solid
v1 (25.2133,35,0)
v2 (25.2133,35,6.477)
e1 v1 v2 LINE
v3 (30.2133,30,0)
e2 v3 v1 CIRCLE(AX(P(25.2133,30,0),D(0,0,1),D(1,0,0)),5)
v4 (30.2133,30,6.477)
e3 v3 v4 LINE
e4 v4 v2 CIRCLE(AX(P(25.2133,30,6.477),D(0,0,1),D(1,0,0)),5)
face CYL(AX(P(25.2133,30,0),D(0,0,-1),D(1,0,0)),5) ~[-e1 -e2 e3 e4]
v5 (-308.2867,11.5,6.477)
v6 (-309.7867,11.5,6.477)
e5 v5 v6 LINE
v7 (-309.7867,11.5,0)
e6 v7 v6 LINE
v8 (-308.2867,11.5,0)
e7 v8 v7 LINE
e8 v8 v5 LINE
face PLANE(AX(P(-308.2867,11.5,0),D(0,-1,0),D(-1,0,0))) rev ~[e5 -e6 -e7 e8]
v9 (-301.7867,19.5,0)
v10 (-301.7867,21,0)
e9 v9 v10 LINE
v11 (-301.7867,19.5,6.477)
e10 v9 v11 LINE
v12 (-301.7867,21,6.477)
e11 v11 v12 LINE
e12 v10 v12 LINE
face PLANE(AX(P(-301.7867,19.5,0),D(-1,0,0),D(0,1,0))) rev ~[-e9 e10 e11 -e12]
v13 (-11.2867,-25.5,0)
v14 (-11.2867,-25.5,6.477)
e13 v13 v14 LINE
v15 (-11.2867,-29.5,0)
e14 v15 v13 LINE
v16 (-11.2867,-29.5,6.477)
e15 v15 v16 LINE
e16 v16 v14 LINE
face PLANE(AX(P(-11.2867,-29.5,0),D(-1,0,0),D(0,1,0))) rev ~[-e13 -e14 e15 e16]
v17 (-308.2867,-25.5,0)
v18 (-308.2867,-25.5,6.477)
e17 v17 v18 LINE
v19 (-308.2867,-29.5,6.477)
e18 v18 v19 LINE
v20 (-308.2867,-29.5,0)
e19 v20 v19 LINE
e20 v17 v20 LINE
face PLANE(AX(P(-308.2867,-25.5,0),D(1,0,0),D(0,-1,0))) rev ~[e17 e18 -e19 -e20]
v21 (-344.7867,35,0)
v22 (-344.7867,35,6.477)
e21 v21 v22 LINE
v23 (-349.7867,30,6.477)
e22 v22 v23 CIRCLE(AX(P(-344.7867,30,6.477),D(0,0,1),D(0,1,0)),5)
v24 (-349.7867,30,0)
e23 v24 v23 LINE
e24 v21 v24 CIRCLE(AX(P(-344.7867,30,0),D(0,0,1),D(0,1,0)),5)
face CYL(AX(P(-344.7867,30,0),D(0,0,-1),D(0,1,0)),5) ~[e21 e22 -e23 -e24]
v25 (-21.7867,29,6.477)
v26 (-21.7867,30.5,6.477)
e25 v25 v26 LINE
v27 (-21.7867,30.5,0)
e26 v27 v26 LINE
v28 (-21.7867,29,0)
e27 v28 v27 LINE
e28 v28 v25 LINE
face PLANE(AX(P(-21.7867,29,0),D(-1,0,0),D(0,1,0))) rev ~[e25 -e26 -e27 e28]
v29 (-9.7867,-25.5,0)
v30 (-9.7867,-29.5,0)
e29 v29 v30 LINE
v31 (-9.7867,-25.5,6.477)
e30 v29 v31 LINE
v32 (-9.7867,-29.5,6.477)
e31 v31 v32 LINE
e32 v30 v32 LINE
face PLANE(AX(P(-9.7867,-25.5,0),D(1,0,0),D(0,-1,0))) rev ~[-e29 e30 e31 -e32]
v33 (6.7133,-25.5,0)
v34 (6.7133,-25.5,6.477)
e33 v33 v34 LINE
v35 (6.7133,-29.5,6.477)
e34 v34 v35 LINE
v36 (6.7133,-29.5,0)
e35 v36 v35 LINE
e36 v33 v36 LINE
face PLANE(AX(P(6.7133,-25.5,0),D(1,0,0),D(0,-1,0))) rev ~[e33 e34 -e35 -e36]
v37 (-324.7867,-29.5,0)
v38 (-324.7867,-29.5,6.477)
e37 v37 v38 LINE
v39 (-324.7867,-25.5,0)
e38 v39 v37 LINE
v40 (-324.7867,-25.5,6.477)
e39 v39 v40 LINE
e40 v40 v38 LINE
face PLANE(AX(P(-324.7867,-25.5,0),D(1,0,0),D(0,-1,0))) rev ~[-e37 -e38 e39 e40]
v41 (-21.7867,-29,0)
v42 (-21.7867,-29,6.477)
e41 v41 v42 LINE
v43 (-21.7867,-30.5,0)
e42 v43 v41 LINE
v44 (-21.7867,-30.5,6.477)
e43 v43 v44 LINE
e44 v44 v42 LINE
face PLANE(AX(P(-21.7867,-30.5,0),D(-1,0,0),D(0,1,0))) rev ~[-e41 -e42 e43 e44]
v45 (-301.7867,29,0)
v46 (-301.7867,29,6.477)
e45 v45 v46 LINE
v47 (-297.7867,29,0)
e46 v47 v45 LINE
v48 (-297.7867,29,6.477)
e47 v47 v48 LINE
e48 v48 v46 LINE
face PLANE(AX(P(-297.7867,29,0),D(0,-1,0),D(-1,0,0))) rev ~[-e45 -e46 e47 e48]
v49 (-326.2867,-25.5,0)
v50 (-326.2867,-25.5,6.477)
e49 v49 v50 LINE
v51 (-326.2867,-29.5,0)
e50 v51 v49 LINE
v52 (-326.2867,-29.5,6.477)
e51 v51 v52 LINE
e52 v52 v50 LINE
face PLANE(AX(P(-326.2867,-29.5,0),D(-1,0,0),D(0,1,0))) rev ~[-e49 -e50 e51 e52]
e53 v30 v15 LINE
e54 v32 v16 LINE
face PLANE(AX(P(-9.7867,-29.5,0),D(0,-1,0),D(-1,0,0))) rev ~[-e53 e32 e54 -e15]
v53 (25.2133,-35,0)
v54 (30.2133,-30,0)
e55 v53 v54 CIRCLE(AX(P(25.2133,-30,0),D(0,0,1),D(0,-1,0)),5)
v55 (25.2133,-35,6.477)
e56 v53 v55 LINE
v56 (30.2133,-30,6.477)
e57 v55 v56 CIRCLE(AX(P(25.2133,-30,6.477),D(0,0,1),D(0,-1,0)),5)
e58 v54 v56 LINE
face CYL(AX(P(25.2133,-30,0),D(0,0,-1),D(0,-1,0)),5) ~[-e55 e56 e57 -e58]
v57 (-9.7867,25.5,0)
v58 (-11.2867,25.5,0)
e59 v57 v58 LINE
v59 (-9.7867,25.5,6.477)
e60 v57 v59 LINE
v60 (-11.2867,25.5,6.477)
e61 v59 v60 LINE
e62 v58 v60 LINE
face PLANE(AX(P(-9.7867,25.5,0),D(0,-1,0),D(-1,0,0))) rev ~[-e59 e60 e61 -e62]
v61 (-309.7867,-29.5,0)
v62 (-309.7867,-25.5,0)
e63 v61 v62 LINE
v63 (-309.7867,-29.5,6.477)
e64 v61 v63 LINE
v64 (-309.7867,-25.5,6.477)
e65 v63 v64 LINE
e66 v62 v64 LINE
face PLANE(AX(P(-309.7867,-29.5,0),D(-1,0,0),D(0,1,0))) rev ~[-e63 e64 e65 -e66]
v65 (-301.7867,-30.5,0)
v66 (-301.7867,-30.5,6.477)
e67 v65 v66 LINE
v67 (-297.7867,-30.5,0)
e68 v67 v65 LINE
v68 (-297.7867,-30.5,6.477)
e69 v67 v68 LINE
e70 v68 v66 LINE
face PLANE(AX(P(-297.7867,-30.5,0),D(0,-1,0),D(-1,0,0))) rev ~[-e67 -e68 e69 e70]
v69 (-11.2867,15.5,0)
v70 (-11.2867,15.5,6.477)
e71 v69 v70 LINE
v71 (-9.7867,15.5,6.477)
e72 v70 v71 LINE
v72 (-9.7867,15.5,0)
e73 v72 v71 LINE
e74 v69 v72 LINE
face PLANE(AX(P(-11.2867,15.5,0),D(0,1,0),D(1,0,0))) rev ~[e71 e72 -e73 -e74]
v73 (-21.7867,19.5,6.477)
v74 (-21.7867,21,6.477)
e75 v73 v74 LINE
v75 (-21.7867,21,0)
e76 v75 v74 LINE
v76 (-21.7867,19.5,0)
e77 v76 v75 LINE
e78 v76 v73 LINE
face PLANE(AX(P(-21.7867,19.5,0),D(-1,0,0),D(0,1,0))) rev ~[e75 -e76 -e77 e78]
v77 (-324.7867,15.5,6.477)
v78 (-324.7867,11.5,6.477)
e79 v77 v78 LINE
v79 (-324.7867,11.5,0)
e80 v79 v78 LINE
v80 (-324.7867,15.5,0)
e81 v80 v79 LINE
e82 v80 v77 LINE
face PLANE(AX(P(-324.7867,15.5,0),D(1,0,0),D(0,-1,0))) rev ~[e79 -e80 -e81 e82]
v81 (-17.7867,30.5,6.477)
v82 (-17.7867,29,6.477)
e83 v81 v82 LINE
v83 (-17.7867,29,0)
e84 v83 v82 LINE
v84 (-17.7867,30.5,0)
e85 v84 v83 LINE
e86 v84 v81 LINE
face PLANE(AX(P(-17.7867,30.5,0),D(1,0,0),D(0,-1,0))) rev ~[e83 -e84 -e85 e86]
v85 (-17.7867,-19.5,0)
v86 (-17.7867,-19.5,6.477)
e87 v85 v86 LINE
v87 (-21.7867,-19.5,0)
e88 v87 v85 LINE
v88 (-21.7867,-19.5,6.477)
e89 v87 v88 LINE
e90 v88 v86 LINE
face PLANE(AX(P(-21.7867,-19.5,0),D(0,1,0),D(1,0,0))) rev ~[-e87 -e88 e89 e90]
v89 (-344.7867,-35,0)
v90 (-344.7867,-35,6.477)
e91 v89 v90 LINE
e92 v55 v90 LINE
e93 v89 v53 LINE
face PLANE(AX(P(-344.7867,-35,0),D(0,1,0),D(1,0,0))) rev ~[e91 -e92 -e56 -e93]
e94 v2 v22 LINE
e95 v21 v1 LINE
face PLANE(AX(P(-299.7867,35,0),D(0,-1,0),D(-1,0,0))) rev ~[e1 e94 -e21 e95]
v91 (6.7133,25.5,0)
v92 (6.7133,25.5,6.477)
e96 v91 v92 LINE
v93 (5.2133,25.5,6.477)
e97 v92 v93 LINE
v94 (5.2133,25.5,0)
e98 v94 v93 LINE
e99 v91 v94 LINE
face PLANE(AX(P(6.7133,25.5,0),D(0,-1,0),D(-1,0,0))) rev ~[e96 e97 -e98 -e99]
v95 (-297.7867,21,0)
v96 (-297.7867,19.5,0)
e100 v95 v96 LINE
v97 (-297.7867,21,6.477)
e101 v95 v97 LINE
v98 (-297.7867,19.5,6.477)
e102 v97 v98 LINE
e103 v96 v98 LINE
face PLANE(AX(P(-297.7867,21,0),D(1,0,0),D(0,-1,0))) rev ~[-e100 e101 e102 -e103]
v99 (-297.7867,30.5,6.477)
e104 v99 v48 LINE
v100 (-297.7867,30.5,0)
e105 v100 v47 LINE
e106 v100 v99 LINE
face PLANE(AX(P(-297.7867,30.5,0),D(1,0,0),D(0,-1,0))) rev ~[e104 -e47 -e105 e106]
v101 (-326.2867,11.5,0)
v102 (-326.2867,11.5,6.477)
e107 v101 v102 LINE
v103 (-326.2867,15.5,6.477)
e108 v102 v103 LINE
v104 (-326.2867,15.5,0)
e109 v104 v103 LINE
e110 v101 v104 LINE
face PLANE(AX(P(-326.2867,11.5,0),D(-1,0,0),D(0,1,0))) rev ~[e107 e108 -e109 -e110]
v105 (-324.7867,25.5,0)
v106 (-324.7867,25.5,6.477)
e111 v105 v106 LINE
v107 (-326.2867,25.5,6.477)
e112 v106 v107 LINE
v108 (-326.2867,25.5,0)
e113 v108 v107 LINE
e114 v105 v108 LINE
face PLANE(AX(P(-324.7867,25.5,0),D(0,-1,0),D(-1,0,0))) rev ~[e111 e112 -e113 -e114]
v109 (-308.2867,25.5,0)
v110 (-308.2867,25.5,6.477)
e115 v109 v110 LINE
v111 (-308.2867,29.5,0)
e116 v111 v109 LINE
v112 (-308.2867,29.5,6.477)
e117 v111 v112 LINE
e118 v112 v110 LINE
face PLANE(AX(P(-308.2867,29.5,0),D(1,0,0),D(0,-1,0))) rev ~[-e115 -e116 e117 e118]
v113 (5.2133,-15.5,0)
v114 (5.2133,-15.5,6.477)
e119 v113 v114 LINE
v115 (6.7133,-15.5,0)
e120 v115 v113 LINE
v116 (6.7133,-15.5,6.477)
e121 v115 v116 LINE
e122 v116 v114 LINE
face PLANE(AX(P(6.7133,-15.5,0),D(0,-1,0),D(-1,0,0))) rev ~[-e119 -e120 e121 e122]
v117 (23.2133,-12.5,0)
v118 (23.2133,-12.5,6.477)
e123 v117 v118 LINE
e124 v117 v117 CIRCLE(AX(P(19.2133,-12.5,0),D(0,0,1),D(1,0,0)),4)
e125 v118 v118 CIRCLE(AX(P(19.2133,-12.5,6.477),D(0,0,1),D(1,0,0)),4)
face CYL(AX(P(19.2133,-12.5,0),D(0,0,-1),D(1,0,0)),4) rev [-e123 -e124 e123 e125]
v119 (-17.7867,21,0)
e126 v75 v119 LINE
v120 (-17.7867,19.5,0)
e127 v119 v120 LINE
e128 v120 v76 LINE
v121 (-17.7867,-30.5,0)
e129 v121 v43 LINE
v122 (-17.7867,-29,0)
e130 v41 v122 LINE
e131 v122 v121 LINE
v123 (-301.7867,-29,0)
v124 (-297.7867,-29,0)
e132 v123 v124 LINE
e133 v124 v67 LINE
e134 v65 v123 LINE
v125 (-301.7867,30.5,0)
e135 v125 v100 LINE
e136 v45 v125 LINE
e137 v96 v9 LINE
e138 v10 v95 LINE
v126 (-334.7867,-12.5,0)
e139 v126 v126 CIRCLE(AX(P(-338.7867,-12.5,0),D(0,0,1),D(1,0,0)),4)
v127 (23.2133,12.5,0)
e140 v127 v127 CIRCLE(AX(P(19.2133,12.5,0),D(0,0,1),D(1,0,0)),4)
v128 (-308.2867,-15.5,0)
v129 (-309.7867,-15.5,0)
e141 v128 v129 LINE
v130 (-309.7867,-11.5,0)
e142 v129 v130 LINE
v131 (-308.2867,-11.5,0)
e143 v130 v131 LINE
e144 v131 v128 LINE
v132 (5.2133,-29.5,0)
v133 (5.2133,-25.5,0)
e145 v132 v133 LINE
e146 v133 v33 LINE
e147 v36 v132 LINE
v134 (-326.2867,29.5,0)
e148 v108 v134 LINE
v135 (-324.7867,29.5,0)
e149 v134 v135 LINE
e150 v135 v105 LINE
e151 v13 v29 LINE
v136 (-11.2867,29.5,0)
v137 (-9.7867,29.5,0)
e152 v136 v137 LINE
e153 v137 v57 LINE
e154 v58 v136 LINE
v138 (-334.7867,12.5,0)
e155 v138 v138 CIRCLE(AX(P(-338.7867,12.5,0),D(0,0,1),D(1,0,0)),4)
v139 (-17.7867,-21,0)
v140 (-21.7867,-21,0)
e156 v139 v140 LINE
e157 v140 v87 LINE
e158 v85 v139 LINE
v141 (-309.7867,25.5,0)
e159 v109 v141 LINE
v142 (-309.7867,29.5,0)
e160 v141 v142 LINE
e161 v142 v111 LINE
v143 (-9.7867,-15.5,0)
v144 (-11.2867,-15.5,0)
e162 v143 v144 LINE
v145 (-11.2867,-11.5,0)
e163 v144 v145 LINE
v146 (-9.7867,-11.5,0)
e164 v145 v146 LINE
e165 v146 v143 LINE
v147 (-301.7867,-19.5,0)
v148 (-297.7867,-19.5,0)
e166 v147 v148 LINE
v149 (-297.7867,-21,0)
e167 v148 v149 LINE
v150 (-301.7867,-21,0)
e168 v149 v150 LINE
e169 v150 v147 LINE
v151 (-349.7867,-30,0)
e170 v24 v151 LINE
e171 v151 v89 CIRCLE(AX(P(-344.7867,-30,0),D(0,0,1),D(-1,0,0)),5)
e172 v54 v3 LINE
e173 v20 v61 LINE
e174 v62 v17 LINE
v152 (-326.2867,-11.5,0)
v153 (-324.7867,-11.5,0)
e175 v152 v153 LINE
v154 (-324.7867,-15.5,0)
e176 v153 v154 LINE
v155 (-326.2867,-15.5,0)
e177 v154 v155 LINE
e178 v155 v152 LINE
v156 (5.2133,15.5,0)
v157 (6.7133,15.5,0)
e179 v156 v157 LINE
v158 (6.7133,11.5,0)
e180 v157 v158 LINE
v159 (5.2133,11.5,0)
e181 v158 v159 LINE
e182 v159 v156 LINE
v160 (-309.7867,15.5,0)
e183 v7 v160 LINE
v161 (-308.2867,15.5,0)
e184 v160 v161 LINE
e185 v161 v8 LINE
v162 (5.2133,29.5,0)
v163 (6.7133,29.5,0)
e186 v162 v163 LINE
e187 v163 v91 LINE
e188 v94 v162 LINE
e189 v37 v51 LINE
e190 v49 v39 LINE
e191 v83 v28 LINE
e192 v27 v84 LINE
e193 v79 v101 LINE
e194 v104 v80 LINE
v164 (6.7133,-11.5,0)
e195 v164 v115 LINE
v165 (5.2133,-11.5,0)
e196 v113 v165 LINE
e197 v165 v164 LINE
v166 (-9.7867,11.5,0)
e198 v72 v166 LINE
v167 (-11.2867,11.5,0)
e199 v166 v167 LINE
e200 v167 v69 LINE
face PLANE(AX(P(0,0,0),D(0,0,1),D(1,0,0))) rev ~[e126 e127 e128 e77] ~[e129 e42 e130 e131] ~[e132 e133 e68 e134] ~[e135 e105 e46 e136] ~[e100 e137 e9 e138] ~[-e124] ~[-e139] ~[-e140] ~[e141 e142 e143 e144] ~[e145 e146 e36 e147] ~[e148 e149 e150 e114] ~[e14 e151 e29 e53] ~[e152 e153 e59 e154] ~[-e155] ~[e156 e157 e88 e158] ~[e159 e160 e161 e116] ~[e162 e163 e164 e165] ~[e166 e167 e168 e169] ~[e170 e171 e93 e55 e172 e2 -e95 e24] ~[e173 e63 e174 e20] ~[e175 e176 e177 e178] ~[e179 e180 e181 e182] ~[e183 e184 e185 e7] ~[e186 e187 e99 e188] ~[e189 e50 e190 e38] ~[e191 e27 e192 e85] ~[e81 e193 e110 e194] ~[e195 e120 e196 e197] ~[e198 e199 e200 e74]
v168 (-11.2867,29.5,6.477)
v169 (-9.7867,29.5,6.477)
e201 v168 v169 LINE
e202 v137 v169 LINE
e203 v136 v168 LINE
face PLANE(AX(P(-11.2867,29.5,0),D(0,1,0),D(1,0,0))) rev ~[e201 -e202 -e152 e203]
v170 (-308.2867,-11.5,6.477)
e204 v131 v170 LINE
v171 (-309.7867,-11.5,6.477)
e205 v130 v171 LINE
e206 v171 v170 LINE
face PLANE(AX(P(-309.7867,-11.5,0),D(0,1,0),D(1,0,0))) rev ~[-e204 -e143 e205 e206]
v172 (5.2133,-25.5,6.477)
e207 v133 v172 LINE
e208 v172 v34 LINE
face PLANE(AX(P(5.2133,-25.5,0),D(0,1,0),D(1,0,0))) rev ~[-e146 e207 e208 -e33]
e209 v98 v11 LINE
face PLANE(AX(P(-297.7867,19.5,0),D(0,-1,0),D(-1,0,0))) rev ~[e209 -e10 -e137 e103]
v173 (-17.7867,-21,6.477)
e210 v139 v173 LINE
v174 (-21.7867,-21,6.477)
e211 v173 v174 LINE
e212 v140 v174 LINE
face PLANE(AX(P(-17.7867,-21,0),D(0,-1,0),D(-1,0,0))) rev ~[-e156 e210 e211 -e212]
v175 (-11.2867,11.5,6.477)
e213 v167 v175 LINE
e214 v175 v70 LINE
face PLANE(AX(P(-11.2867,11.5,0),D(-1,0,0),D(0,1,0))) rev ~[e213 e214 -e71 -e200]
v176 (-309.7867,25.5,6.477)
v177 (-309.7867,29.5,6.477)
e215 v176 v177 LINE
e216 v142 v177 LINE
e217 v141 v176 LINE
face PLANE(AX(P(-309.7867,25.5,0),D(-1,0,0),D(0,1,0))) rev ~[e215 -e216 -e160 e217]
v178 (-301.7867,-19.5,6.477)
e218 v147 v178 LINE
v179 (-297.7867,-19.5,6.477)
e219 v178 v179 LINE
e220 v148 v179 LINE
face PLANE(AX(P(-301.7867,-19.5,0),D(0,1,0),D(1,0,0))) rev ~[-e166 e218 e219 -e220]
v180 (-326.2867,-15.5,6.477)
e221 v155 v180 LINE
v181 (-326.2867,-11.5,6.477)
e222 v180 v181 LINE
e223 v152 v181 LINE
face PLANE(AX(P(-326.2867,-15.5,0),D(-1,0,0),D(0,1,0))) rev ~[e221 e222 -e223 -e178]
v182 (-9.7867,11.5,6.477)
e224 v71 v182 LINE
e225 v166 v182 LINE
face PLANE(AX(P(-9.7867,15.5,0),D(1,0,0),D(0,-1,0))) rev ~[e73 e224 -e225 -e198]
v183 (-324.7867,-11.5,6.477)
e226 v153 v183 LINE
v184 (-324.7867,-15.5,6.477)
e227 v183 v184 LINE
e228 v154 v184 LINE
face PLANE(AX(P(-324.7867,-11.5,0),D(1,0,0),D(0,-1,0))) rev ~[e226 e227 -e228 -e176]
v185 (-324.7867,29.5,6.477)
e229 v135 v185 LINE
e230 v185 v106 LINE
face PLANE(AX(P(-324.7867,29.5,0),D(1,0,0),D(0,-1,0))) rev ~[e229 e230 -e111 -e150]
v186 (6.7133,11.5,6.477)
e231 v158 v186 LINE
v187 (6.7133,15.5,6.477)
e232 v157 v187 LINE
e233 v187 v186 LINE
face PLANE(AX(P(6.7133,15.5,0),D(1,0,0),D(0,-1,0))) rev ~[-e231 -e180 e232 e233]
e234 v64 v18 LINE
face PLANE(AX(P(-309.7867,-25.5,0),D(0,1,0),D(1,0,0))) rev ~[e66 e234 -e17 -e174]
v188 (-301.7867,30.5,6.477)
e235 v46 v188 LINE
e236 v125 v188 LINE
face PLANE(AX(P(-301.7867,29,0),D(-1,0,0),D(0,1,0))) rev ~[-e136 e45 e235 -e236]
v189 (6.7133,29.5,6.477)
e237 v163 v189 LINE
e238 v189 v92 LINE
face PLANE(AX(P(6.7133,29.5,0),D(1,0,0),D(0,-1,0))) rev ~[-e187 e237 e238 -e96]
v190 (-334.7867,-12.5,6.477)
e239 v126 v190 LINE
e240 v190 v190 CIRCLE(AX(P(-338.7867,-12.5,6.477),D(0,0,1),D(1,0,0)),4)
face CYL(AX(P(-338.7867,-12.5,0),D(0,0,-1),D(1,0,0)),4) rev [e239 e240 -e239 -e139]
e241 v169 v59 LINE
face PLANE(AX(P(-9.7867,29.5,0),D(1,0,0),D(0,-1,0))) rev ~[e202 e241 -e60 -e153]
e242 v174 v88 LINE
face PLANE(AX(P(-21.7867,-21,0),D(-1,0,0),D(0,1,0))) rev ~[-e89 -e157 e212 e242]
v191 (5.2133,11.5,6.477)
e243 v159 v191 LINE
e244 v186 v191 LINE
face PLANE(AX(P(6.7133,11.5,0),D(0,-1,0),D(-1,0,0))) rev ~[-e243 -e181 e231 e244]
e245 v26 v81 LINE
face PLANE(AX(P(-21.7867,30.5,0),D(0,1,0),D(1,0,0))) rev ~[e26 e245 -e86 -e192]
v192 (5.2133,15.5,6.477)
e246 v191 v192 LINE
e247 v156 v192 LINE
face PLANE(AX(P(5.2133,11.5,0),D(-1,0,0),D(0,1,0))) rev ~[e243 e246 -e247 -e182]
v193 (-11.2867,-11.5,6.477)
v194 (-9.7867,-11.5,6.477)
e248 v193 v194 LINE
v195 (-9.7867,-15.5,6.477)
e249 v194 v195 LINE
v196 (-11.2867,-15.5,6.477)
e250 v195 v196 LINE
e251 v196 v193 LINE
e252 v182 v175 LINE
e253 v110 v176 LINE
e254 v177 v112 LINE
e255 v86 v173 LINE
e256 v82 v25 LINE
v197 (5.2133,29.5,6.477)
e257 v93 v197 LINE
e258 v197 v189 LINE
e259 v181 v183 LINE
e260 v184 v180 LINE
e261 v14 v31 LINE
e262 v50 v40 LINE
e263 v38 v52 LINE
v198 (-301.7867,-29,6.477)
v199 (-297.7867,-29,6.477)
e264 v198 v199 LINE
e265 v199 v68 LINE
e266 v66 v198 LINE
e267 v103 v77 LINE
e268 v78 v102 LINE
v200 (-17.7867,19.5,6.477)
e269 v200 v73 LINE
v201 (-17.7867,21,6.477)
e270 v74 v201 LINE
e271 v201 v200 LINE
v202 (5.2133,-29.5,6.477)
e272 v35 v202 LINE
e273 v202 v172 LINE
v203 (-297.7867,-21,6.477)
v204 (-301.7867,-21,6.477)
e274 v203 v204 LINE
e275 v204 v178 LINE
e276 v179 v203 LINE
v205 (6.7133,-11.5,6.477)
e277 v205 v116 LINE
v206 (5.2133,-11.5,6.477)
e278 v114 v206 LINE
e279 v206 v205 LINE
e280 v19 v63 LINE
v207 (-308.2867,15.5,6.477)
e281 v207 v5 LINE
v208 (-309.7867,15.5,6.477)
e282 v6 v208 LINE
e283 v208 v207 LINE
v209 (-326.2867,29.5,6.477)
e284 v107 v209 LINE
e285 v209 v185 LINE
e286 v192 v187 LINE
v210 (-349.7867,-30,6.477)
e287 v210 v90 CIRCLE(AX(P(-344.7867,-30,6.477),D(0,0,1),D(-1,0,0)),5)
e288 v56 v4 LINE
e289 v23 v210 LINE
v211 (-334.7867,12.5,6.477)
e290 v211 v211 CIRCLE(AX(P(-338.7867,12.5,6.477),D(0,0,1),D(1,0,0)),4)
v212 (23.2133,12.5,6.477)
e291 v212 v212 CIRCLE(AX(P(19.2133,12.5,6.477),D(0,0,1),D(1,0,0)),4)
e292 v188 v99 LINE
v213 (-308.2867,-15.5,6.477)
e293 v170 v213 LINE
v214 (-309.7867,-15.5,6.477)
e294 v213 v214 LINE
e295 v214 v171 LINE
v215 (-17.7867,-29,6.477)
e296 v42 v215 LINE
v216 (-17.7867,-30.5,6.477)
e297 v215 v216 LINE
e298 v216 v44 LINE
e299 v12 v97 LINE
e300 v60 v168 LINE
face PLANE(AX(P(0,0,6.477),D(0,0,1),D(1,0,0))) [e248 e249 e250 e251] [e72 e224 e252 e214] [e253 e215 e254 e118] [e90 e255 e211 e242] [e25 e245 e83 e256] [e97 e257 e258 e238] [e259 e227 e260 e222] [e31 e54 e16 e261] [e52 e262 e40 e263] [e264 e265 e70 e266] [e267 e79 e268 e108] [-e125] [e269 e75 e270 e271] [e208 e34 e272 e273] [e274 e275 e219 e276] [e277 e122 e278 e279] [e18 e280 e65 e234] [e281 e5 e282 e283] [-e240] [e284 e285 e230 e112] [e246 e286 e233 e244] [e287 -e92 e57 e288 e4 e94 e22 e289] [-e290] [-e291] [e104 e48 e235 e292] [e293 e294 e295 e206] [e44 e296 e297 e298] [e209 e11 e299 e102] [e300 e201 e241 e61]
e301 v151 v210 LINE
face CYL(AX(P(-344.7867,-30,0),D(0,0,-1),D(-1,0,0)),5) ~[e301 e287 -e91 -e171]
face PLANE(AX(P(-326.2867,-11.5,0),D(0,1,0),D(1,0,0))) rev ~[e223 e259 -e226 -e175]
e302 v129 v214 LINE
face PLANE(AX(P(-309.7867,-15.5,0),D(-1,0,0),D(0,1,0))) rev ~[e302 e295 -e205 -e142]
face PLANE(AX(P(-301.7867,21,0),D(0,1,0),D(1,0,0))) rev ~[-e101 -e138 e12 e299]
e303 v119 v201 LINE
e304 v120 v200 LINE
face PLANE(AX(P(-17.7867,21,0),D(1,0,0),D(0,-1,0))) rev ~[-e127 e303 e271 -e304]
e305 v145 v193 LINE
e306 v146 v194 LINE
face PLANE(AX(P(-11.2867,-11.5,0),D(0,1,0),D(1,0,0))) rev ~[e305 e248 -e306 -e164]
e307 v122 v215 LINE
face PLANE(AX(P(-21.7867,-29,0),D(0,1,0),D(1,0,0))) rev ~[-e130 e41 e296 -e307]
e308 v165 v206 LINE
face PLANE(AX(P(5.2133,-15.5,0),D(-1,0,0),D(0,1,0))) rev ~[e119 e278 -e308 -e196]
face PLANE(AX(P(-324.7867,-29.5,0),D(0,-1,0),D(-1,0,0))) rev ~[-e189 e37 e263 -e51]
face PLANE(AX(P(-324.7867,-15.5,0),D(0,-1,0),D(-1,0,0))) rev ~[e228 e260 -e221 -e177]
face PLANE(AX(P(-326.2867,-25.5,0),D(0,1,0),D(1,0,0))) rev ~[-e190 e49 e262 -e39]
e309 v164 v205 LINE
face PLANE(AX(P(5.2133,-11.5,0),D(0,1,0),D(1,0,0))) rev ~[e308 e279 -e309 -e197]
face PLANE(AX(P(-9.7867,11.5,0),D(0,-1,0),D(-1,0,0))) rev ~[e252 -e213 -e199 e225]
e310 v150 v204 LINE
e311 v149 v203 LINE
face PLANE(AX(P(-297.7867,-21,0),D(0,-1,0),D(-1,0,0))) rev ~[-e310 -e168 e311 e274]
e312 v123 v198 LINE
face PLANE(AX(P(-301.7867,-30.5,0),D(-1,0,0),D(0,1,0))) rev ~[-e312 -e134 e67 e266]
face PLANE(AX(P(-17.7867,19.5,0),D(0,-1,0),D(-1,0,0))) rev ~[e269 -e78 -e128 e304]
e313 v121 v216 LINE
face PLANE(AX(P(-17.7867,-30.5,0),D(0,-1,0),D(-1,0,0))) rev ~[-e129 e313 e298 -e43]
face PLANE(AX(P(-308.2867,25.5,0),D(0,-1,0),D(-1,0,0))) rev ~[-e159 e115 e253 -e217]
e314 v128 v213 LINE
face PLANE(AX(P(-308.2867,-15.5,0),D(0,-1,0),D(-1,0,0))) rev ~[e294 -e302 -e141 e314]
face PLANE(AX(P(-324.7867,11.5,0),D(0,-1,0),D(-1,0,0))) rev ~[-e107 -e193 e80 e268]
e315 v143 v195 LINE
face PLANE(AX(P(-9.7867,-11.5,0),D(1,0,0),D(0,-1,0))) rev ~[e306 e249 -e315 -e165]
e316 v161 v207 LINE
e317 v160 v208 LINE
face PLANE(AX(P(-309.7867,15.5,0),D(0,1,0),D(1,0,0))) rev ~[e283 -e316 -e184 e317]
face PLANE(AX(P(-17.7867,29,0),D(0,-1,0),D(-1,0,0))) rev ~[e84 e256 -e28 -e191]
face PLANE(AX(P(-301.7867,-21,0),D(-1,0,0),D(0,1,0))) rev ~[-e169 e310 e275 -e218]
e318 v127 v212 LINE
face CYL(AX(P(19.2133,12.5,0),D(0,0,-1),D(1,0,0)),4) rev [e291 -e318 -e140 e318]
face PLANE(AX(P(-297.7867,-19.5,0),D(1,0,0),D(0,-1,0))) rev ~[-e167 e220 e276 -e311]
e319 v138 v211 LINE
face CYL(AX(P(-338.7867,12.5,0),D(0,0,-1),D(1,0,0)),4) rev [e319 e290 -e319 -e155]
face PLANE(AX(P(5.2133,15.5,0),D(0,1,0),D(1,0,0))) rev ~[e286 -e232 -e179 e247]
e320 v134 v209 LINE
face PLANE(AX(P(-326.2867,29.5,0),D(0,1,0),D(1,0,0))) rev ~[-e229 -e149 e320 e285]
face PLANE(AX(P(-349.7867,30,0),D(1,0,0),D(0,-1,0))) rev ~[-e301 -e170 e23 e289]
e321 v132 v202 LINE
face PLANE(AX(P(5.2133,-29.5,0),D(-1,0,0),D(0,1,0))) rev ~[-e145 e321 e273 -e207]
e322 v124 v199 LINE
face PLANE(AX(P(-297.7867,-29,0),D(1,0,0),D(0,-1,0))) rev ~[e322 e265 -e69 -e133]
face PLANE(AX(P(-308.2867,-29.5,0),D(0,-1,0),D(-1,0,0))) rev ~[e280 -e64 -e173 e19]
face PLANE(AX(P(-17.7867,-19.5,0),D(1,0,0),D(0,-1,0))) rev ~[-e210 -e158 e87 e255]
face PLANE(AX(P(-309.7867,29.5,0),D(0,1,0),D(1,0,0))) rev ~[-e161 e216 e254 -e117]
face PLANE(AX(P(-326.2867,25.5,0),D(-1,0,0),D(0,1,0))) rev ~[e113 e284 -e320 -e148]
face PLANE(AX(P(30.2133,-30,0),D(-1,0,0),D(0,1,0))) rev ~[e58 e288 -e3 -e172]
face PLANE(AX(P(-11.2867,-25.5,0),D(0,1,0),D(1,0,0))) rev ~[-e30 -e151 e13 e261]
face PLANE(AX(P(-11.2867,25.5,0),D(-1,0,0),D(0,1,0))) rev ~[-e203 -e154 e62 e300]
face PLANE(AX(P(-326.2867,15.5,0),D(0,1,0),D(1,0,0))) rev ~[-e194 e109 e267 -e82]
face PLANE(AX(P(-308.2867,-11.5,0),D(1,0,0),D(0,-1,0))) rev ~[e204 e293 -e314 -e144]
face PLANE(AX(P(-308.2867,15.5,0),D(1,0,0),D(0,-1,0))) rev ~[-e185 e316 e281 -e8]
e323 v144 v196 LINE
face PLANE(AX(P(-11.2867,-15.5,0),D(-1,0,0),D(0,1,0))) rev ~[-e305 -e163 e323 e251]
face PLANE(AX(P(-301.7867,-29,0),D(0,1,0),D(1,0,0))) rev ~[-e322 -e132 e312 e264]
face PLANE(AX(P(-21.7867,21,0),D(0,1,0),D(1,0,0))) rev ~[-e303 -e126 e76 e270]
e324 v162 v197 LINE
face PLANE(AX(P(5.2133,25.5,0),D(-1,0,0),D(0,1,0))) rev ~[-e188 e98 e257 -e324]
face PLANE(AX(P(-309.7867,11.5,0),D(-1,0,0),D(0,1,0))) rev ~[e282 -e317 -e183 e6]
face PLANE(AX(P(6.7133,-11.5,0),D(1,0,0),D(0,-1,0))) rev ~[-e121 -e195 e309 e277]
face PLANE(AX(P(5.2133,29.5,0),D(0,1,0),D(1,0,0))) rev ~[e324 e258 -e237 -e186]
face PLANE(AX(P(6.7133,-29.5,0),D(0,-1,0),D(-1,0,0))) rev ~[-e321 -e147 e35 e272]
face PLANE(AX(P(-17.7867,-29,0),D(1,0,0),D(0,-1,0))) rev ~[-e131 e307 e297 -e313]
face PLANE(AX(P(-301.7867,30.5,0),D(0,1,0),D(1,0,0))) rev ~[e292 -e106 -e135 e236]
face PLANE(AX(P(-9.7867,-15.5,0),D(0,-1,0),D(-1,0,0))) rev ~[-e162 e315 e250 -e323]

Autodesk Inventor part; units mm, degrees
ref_plane "YZ Plane" through (0, 0, 0) normal (1, 0, 0) x (0, 1, 0)
ref_plane "XZ Plane" through (0, 0, 0) normal (0, 1, 0) x (-1, 0, 0)
ref_plane "XY Plane" through (0, 0, 0) normal (0, 0, 1) x (1, 0, 0)
sketch "Sketch1" plane through (0, 0, 0) normal (0, 0, 1) x (1, 0, 0)
  arc A0 (-299.7867, -35) -> (-294.7867, -30) centre (-299.7867, -30) ccw projected
  line L0 (-294.7867, -30) -> (-294.7867, 30) projected
  arc A1 (-294.7867, 30) -> (-299.7867, 35) centre (-299.7867, 30) ccw projected
  line L1 (-299.7867, 35) -> (-344.7867, 35) projected
  arc A2 (-344.7867, 35) -> (-349.7867, 30) centre (-344.7867, 30) ccw projected
  line L2 (-349.7867, 30) -> (-349.7867, -30) projected
  arc A3 (-349.7867, -30) -> (-344.7867, -35) centre (-344.7867, -30) ccw projected
  line L3 (-344.7867, -35) -> (-299.7867, -35) projected
  circle A4 centre (-338.7867, -12.5) radius 4 projected
  circle A5 centre (-338.7867, 12.5) radius 4 projected
  line L4 (-301.7867, -21) -> (-301.7867, -19.5) projected
  line L5 (-301.7867, -19.5) -> (-297.7867, -19.5) projected
  line L6 (-297.7867, -19.5) -> (-297.7867, -21) projected
  line L7 (-297.7867, -21) -> (-301.7867, -21) projected
  line L8 (-326.2867, -15.5) -> (-326.2867, -11.5) projected
  line L9 (-326.2867, -11.5) -> (-324.7867, -11.5) projected
  line L10 (-324.7867, -11.5) -> (-324.7867, -15.5) projected
  line L11 (-324.7867, -15.5) -> (-326.2867, -15.5) projected
  line L12 (-309.7867, -15.5) -> (-309.7867, -11.5) projected
  line L13 (-309.7867, -11.5) -> (-308.2867, -11.5) projected
  line L14 (-308.2867, -11.5) -> (-308.2867, -15.5) projected
  line L15 (-308.2867, -15.5) -> (-309.7867, -15.5) projected
  line L16 (-324.7867, -25.5) -> (-324.7867, -29.5) projected
  line L17 (-324.7867, -29.5) -> (-326.2867, -29.5) projected
  line L18 (-326.2867, -29.5) -> (-326.2867, -25.5) projected
  line L19 (-326.2867, -25.5) -> (-324.7867, -25.5) projected
  line L20 (-308.2867, -25.5) -> (-308.2867, -29.5) projected
  line L21 (-308.2867, -29.5) -> (-309.7867, -29.5) projected
  line L22 (-309.7867, -29.5) -> (-309.7867, -25.5) projected
  line L23 (-309.7867, -25.5) -> (-308.2867, -25.5) projected
  line L24 (-297.7867, -29) -> (-297.7867, -30.5) projected
  line L25 (-297.7867, -30.5) -> (-301.7867, -30.5) projected
  line L26 (-301.7867, -30.5) -> (-301.7867, -29) projected
  line L27 (-301.7867, -29) -> (-297.7867, -29) projected
  line L28 (-309.7867, 29.5) -> (-308.2867, 29.5) projected
  line L29 (-308.2867, 29.5) -> (-308.2867, 25.5) projected
  line L30 (-308.2867, 25.5) -> (-309.7867, 25.5) projected
  line L31 (-309.7867, 25.5) -> (-309.7867, 29.5) projected
  line L32 (-326.2867, 25.5) -> (-326.2867, 29.5) projected
  line L33 (-326.2867, 29.5) -> (-324.7867, 29.5) projected
  line L34 (-324.7867, 29.5) -> (-324.7867, 25.5) projected
  line L35 (-324.7867, 25.5) -> (-326.2867, 25.5) projected
  line L36 (-308.2867, 11.5) -> (-309.7867, 11.5) projected
  line L37 (-309.7867, 11.5) -> (-309.7867, 15.5) projected
  line L38 (-309.7867, 15.5) -> (-308.2867, 15.5) projected
  line L39 (-308.2867, 15.5) -> (-308.2867, 11.5) projected
  line L40 (-324.7867, 15.5) -> (-324.7867, 11.5) projected
  line L41 (-324.7867, 11.5) -> (-326.2867, 11.5) projected
  line L42 (-326.2867, 11.5) -> (-326.2867, 15.5) projected
  line L43 (-326.2867, 15.5) -> (-324.7867, 15.5) projected
  line L44 (-297.7867, 19.5) -> (-301.7867, 19.5) projected
  line L45 (-301.7867, 19.5) -> (-301.7867, 21) projected
  line L46 (-301.7867, 21) -> (-297.7867, 21) projected
  line L47 (-297.7867, 21) -> (-297.7867, 19.5) projected
  line L48 (-301.7867, 29) -> (-301.7867, 30.5) projected
  line L49 (-301.7867, 30.5) -> (-297.7867, 30.5) projected
  line L50 (-297.7867, 30.5) -> (-297.7867, 29) projected
  line L51 (-297.7867, 29) -> (-301.7867, 29) projected
  arc A6 (-19.7867, 35) -> (-24.7867, 30) centre (-19.7867, 30) ccw projected
  line L52 (-24.7867, 30) -> (-24.7867, -30) projected
  arc A7 (-24.7867, -30) -> (-19.7867, -35) centre (-19.7867, -30) ccw projected
  line L53 (-19.7867, -35) -> (25.2133, -35) projected
  arc A8 (25.2133, -35) -> (30.2133, -30) centre (25.2133, -30) ccw projected
  line L54 (30.2133, -30) -> (30.2133, 30) projected
  arc A9 (30.2133, 30) -> (25.2133, 35) centre (25.2133, 30) ccw projected
  line L55 (25.2133, 35) -> (-19.7867, 35) projected
  circle A10 centre (19.2133, 12.5) radius 4 projected
  circle A11 centre (19.2133, -12.5) radius 4 projected
  line L56 (-17.7867, 21) -> (-17.7867, 19.5) projected
  line L57 (-17.7867, 19.5) -> (-21.7867, 19.5) projected
  line L58 (-21.7867, 19.5) -> (-21.7867, 21) projected
  line L59 (-21.7867, 21) -> (-17.7867, 21) projected
  line L60 (6.7133, 15.5) -> (6.7133, 11.5) projected
  line L61 (6.7133, 11.5) -> (5.2133, 11.5) projected
  line L62 (5.2133, 11.5) -> (5.2133, 15.5) projected
  line L63 (5.2133, 15.5) -> (6.7133, 15.5) projected
  line L64 (-9.7867, 15.5) -> (-9.7867, 11.5) projected
  line L65 (-9.7867, 11.5) -> (-11.2867, 11.5) projected
  line L66 (-11.2867, 11.5) -> (-11.2867, 15.5) projected
  line L67 (-11.2867, 15.5) -> (-9.7867, 15.5) projected
  line L68 (5.2133, 25.5) -> (5.2133, 29.5) projected
  line L69 (5.2133, 29.5) -> (6.7133, 29.5) projected
  line L70 (6.7133, 29.5) -> (6.7133, 25.5) projected
  line L71 (6.7133, 25.5) -> (5.2133, 25.5) projected
  line L72 (-11.2867, 25.5) -> (-11.2867, 29.5) projected
  line L73 (-11.2867, 29.5) -> (-9.7867, 29.5) projected
  line L74 (-9.7867, 29.5) -> (-9.7867, 25.5) projected
  line L75 (-9.7867, 25.5) -> (-11.2867, 25.5) projected
  line L76 (-21.7867, 29) -> (-21.7867, 30.5) projected
  line L77 (-21.7867, 30.5) -> (-17.7867, 30.5) projected
  line L78 (-17.7867, 30.5) -> (-17.7867, 29) projected
  line L79 (-17.7867, 29) -> (-21.7867, 29) projected
  line L80 (-9.7867, -29.5) -> (-11.2867, -29.5) projected
  line L81 (-11.2867, -29.5) -> (-11.2867, -25.5) projected
  line L82 (-11.2867, -25.5) -> (-9.7867, -25.5) projected
  line L83 (-9.7867, -25.5) -> (-9.7867, -29.5) projected
  line L84 (6.7133, -25.5) -> (6.7133, -29.5) projected
  line L85 (6.7133, -29.5) -> (5.2133, -29.5) projected
  line L86 (5.2133, -29.5) -> (5.2133, -25.5) projected
  line L87 (5.2133, -25.5) -> (6.7133, -25.5) projected
  line L88 (-11.2867, -11.5) -> (-9.7867, -11.5) projected
  line L89 (-9.7867, -11.5) -> (-9.7867, -15.5) projected
  line L90 (-9.7867, -15.5) -> (-11.2867, -15.5) projected
  line L91 (-11.2867, -15.5) -> (-11.2867, -11.5) projected
  line L92 (5.2133, -15.5) -> (5.2133, -11.5) projected
  line L93 (5.2133, -11.5) -> (6.7133, -11.5) projected
  line L94 (6.7133, -11.5) -> (6.7133, -15.5) projected
  line L95 (6.7133, -15.5) -> (5.2133, -15.5) projected
  line L96 (-21.7867, -19.5) -> (-17.7867, -19.5) projected
  line L97 (-17.7867, -19.5) -> (-17.7867, -21) projected
  line L98 (-17.7867, -21) -> (-21.7867, -21) projected
  line L99 (-21.7867, -21) -> (-21.7867, -19.5) projected
  line L100 (-17.7867, -29) -> (-17.7867, -30.5) projected
  line L101 (-17.7867, -30.5) -> (-21.7867, -30.5) projected
  line L102 (-21.7867, -30.5) -> (-21.7867, -29) projected
  line L103 (-21.7867, -29) -> (-17.7867, -29) projected
  line L104 (-299.7867, 35) -> (-19.7867, 35)
  line L105 (-19.7867, -35) -> (-299.7867, -35)
  point P0 (0, 0)
extrude "Extrusion1" add sketch "Sketch1" along normal blind 6.477
properties part number "GANTRY CROSS PLATE"
